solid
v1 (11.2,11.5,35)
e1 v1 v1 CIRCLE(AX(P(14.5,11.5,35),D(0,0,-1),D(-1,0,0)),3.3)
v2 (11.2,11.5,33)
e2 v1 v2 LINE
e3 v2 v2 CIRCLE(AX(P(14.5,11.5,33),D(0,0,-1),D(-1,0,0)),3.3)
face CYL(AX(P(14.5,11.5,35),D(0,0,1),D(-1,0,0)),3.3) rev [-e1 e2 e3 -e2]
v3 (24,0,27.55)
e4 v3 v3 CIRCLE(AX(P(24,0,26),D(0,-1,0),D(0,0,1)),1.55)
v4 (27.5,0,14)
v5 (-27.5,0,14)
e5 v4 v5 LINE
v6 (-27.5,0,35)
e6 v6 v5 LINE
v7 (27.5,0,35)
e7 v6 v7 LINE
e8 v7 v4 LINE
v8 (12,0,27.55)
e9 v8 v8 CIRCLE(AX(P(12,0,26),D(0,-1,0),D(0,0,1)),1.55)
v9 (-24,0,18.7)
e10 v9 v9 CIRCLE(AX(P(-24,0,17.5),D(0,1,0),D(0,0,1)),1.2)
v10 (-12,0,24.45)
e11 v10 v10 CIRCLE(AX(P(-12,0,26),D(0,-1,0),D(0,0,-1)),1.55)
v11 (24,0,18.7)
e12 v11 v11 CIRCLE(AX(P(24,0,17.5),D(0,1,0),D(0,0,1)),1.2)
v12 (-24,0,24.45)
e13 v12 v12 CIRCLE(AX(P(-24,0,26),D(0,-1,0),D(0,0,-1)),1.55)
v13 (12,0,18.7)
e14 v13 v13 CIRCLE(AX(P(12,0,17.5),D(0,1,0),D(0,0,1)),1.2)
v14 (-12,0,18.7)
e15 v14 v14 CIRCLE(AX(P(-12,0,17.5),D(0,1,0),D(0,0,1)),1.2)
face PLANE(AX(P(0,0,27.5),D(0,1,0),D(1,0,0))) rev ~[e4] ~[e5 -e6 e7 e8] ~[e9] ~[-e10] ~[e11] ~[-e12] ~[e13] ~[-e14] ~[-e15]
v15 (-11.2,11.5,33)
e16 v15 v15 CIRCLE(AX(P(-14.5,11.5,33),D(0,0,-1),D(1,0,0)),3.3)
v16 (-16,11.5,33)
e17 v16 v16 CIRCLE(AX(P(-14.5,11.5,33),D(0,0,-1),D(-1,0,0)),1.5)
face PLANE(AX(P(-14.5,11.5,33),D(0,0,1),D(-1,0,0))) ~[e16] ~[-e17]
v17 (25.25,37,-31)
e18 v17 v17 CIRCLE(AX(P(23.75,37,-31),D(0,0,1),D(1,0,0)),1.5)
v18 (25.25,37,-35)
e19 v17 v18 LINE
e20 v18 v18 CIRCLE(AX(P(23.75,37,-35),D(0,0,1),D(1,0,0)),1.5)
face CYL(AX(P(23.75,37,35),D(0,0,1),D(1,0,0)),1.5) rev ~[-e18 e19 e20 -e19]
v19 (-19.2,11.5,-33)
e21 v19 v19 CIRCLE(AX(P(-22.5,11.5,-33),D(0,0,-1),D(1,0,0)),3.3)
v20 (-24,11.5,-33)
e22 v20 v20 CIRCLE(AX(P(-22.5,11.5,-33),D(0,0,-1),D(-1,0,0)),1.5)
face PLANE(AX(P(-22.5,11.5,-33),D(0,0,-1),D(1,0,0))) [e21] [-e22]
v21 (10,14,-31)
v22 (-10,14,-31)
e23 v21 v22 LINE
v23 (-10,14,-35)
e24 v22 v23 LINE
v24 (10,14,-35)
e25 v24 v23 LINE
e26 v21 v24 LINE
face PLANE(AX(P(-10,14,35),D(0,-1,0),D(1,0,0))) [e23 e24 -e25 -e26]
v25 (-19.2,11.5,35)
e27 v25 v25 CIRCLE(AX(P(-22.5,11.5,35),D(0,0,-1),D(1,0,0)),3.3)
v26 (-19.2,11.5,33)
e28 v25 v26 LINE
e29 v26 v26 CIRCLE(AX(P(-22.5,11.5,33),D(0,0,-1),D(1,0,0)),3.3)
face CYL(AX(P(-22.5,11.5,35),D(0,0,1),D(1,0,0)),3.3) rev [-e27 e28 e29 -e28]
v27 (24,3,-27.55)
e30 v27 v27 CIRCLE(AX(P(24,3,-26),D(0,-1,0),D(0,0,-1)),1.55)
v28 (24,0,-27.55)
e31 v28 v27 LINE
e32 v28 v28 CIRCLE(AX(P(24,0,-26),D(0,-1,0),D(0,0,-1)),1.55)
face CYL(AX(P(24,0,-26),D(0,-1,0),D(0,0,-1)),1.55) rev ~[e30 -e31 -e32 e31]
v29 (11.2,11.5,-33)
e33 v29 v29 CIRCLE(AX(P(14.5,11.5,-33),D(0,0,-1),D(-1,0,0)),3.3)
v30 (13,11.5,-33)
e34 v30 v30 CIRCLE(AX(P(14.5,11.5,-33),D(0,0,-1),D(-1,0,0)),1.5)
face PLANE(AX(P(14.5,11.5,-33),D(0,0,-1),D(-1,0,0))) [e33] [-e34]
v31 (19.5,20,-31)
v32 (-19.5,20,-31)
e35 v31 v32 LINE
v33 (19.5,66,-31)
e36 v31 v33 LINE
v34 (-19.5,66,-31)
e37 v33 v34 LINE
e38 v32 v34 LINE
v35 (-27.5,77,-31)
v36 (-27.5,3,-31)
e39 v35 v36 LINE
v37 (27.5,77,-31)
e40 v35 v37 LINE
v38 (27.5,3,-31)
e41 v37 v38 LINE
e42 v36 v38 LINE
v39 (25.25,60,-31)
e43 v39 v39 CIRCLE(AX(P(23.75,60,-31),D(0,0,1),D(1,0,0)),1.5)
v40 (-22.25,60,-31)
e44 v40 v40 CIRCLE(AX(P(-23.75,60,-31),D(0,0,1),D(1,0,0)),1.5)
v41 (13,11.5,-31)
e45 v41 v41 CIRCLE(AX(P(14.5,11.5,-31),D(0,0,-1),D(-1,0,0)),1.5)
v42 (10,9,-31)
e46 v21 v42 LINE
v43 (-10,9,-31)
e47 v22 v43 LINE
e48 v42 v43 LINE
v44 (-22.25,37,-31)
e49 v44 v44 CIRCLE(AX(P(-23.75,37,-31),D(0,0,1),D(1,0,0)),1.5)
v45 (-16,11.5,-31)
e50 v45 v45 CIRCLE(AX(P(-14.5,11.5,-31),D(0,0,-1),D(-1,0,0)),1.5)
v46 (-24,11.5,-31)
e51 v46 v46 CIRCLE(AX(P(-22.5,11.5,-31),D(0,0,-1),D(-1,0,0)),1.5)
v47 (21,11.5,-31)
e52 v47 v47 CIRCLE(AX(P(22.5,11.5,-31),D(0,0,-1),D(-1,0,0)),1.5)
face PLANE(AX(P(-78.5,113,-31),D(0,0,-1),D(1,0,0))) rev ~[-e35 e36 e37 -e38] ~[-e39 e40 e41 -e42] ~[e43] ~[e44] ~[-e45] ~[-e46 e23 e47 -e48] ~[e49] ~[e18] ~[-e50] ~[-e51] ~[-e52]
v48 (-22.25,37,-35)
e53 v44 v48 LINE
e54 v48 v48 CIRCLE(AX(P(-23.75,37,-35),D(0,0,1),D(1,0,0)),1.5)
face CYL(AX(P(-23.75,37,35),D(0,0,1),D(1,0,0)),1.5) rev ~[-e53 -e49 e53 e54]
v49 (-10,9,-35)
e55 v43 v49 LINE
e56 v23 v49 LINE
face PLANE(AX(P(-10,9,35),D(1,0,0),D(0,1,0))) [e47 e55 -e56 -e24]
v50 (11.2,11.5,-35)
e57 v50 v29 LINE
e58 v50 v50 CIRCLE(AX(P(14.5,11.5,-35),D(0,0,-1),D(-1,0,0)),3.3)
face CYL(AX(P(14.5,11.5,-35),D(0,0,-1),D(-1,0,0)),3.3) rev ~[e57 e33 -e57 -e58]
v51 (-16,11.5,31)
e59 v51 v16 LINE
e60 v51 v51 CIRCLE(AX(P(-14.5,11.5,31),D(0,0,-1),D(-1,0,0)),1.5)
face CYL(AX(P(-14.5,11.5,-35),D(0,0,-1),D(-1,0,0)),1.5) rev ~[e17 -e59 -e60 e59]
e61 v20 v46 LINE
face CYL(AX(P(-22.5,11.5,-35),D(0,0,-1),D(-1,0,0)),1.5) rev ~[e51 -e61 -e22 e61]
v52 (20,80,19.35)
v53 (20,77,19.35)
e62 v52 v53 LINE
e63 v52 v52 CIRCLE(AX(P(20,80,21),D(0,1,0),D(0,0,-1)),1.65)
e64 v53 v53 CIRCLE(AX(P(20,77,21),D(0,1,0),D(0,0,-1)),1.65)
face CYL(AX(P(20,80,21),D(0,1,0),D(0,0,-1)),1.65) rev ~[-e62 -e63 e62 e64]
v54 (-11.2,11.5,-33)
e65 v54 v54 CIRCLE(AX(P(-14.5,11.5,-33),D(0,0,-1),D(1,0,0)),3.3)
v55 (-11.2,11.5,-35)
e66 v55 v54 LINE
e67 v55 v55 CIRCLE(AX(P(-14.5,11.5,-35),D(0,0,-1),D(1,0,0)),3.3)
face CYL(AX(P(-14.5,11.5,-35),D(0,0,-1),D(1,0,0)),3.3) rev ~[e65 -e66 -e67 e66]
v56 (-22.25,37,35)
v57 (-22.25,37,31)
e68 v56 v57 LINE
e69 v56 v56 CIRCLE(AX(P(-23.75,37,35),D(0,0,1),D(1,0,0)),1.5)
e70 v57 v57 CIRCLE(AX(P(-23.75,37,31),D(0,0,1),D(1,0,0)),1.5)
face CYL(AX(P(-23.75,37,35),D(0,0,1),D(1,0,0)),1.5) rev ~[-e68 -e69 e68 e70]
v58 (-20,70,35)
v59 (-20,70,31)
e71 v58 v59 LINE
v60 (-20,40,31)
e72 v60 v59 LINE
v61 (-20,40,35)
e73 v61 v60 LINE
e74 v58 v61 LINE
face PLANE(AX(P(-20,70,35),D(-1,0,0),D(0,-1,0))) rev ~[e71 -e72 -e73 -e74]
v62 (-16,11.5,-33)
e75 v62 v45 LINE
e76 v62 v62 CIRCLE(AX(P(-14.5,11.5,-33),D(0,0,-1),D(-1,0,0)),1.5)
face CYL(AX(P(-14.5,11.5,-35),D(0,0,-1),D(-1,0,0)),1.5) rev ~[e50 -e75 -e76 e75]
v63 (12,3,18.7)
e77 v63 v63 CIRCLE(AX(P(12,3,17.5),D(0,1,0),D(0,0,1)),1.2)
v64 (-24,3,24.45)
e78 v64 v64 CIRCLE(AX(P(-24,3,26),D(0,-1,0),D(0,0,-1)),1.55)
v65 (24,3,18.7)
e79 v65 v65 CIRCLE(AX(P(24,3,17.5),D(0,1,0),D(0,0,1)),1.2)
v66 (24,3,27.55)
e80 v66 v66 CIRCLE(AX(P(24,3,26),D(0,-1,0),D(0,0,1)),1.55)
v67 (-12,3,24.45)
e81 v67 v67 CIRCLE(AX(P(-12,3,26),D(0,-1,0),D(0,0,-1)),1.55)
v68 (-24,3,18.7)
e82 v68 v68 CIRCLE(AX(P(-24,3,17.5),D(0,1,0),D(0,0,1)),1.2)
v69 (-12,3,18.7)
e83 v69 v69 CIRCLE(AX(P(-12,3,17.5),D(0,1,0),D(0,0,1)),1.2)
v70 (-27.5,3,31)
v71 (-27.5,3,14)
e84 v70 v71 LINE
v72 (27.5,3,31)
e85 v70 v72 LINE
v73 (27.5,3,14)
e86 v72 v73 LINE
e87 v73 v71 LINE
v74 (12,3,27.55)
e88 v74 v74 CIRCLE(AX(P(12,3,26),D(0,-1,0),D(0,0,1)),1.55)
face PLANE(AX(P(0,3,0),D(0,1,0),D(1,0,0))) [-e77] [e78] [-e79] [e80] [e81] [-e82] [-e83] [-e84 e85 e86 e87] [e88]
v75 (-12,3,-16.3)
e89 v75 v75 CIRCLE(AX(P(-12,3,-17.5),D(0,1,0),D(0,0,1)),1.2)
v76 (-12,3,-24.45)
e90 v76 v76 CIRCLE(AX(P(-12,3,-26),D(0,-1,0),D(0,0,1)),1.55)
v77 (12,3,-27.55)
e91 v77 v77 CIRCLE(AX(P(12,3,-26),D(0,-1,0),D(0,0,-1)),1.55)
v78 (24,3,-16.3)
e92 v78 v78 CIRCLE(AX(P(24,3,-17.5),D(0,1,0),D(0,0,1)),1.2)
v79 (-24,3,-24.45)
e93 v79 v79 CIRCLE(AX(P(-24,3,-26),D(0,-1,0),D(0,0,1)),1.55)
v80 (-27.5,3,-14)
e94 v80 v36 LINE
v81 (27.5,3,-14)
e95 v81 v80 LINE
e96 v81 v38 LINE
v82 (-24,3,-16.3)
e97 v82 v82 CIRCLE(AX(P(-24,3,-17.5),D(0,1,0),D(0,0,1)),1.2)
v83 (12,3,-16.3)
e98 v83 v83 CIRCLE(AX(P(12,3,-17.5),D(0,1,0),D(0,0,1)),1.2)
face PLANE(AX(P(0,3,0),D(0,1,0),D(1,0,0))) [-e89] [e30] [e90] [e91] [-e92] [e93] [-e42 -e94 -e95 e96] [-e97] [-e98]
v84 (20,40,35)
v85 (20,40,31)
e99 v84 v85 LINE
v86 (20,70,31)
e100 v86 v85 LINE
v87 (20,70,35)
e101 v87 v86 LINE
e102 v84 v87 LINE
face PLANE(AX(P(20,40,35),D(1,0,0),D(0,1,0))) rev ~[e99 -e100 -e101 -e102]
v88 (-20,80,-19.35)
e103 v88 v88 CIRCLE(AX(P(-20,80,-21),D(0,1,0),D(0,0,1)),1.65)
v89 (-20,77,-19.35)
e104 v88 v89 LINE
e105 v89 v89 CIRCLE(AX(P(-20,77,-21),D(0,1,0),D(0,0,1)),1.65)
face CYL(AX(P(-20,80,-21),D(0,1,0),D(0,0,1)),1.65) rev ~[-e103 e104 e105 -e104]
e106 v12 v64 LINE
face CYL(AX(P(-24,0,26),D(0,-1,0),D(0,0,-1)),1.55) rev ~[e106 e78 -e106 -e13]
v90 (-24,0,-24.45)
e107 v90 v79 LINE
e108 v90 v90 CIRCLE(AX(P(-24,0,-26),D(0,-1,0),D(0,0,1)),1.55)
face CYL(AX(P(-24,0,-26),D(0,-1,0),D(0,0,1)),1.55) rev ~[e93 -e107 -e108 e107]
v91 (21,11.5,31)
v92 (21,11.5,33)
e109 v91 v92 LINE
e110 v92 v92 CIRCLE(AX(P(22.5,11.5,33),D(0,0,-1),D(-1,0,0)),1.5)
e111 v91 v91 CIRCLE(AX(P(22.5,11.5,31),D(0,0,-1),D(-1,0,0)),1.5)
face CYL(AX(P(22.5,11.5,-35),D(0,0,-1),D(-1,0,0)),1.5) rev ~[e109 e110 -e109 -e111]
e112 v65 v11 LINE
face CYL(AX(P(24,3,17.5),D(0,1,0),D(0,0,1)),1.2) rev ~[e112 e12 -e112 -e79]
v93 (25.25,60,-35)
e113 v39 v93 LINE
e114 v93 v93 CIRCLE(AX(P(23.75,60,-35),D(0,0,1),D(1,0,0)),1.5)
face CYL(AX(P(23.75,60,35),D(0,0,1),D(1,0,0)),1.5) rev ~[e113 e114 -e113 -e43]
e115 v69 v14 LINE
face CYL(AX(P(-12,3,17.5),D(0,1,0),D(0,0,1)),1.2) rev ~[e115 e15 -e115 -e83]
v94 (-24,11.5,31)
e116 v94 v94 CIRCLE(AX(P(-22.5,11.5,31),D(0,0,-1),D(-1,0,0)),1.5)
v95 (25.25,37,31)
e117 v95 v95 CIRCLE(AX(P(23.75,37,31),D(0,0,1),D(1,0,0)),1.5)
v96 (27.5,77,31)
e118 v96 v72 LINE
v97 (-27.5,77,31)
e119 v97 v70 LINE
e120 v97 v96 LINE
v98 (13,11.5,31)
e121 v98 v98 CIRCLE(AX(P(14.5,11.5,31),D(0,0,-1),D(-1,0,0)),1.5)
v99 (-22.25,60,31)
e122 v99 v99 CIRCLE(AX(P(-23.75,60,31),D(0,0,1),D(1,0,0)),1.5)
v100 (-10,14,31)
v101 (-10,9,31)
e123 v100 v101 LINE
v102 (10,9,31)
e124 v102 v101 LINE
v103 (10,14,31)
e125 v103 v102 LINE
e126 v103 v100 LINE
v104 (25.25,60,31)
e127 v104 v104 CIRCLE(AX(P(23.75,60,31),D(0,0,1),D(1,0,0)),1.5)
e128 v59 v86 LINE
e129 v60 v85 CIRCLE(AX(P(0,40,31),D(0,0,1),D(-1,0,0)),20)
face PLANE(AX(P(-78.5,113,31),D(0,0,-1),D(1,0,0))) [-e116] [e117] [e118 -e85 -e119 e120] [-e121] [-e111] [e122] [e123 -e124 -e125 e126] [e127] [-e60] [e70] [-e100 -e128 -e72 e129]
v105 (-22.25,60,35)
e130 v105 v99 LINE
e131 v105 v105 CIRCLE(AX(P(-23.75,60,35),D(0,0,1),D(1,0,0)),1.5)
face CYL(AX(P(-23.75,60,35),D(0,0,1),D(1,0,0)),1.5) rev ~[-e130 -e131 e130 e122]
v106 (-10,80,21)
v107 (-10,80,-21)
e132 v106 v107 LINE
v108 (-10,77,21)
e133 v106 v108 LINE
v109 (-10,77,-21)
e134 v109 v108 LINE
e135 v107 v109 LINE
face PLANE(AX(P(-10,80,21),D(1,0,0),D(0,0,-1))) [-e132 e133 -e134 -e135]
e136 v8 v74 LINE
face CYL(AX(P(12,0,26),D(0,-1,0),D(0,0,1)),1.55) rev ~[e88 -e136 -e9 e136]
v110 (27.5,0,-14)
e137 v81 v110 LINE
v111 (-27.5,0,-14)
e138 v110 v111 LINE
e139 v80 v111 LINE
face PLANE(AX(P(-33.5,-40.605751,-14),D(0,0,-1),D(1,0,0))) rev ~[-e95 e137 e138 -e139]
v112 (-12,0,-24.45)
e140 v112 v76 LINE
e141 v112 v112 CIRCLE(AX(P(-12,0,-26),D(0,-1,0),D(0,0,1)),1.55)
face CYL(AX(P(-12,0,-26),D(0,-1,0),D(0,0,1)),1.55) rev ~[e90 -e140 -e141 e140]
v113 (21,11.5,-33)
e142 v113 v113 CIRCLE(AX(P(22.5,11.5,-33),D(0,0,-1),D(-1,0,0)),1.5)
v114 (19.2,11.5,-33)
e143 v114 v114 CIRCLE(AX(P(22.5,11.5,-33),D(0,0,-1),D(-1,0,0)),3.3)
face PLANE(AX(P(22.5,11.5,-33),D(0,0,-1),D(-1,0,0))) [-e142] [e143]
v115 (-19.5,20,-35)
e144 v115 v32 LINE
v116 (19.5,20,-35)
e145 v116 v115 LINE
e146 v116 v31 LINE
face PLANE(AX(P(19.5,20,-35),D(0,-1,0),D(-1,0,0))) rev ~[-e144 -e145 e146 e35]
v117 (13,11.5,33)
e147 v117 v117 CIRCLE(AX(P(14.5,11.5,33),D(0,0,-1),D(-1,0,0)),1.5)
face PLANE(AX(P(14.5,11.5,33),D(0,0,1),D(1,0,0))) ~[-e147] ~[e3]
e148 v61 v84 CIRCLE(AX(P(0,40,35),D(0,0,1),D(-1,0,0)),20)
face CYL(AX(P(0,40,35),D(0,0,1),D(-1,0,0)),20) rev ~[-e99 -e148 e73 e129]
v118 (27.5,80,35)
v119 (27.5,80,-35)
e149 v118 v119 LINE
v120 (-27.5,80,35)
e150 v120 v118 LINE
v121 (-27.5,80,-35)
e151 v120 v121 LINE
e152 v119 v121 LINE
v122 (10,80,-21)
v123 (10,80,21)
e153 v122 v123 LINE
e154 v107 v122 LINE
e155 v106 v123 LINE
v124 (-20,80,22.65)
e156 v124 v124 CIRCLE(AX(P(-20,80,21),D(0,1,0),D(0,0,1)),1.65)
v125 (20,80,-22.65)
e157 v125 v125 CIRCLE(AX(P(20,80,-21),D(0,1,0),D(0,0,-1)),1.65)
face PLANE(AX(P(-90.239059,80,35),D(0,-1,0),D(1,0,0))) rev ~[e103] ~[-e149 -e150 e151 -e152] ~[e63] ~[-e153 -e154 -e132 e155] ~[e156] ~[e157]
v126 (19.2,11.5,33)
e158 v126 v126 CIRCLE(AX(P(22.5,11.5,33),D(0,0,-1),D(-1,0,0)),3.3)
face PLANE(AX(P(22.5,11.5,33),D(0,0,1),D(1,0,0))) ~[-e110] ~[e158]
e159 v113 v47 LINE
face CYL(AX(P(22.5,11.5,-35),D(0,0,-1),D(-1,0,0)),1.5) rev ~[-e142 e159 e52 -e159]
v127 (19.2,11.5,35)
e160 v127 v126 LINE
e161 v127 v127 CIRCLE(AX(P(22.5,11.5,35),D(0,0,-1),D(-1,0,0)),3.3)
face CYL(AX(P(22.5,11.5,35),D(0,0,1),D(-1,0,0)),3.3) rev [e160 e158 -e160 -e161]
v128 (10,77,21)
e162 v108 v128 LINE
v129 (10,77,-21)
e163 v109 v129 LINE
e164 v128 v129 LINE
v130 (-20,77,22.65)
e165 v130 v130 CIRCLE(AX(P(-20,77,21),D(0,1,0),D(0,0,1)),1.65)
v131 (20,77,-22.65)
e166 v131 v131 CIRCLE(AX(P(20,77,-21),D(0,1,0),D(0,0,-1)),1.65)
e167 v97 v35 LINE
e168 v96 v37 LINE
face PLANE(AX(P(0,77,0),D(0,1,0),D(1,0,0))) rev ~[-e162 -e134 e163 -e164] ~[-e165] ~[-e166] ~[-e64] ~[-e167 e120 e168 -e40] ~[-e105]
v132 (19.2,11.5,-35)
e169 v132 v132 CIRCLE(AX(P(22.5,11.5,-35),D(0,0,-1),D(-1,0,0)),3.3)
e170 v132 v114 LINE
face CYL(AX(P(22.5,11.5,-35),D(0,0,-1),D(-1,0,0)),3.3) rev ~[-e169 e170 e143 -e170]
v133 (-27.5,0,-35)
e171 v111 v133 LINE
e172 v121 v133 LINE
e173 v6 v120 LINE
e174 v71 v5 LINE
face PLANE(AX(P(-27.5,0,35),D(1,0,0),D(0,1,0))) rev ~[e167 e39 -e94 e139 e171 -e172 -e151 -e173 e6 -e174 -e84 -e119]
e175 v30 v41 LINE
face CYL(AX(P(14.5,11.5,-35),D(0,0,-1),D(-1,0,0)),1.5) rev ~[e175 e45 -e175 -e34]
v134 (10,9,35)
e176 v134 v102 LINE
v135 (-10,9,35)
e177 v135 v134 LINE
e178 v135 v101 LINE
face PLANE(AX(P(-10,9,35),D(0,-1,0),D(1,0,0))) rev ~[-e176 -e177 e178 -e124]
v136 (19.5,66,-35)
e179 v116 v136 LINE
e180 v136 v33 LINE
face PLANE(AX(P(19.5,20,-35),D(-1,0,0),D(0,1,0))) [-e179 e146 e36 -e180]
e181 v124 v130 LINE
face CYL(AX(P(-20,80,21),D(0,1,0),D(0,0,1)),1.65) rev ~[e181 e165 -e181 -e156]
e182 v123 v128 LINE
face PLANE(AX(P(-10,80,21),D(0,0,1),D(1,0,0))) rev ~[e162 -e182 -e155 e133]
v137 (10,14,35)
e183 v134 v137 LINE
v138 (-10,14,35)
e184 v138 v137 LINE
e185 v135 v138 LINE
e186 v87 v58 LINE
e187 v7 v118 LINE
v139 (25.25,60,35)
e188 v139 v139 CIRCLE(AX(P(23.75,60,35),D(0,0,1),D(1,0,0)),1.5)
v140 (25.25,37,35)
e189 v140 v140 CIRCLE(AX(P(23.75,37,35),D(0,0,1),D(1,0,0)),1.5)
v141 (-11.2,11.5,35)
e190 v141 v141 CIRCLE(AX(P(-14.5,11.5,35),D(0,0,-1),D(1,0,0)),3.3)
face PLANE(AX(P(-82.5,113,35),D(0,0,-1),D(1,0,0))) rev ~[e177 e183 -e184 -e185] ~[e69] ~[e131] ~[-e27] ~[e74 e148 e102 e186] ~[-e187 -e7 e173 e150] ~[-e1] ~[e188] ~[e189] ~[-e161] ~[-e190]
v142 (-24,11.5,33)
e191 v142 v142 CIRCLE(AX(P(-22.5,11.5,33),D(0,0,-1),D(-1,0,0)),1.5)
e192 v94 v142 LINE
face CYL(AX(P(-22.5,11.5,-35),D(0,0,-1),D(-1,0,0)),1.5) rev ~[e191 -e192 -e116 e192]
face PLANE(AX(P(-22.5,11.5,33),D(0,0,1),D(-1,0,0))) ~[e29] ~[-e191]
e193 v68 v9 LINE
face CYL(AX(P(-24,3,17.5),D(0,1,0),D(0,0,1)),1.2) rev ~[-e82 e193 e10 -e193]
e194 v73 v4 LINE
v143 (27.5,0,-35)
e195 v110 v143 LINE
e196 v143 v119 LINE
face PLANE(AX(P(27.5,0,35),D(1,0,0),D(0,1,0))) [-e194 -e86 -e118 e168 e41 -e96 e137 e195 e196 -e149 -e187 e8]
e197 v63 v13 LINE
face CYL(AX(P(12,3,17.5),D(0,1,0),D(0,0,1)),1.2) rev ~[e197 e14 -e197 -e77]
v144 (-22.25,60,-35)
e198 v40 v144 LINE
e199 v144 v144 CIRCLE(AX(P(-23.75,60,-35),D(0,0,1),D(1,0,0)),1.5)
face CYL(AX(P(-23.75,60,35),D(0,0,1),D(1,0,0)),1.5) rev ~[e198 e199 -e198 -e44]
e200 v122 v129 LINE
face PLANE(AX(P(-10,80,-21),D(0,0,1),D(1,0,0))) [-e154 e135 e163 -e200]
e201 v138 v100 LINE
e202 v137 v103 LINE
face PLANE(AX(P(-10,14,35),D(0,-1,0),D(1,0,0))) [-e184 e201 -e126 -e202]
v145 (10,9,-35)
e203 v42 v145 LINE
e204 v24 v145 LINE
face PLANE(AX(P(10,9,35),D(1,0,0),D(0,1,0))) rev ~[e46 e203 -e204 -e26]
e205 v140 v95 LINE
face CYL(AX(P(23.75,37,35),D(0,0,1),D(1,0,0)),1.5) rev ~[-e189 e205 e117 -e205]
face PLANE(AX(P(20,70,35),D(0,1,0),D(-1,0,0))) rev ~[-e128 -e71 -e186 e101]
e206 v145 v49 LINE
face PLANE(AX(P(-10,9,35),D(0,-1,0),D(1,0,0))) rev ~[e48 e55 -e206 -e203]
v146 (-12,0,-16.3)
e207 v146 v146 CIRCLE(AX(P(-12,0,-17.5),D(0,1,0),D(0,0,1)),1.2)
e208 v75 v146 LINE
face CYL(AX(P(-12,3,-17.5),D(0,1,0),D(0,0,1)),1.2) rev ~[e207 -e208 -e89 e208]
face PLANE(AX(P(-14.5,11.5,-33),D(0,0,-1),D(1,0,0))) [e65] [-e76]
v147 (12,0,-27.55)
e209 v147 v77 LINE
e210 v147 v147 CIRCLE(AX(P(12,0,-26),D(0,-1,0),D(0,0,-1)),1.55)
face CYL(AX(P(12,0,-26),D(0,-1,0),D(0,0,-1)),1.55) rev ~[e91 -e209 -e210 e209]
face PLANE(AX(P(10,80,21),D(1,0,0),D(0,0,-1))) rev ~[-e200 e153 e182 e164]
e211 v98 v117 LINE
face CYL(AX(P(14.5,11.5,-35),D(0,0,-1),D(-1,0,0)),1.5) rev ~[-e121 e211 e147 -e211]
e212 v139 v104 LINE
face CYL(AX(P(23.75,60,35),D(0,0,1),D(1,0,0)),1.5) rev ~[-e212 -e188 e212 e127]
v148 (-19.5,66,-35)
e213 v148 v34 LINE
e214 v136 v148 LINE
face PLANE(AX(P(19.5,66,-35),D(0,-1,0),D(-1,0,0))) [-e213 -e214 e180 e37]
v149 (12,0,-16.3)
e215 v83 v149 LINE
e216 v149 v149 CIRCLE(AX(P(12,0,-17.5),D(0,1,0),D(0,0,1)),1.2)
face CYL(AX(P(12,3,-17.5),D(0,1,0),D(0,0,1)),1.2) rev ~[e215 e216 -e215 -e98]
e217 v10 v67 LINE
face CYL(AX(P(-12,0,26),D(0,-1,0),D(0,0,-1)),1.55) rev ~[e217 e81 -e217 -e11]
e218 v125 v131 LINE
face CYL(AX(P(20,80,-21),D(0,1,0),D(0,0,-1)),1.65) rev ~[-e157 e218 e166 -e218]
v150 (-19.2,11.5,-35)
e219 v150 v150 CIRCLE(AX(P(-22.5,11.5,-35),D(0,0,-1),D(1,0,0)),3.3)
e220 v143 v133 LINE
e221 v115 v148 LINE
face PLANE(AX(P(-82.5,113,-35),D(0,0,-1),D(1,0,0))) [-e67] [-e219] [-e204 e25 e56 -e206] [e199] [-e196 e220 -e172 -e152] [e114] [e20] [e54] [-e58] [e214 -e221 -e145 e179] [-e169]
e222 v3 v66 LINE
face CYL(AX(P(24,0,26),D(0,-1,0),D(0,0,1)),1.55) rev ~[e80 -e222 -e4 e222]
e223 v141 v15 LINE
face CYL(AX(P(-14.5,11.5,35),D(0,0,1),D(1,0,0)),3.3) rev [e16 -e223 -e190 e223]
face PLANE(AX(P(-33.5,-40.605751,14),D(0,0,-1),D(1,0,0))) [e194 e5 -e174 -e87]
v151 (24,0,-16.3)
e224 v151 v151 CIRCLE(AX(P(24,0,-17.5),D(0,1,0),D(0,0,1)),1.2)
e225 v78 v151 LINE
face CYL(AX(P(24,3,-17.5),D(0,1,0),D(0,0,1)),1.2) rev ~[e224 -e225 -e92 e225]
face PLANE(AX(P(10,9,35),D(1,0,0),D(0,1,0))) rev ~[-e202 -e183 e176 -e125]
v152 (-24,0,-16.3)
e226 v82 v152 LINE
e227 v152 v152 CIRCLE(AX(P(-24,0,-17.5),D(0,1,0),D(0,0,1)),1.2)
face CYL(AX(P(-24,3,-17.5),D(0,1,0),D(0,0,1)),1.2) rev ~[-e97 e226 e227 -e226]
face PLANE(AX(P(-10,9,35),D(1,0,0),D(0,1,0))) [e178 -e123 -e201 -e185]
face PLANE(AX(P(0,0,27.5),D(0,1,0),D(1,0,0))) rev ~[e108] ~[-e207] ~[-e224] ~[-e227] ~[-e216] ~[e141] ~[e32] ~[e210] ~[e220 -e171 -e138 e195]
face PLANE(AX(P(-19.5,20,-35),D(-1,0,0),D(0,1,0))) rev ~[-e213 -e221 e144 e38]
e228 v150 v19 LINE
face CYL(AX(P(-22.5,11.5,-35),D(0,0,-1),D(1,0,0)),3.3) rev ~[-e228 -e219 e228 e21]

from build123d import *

# Parameters (mm, degrees)
SKETCH1_W                 = 75
SKETCH1_H                 = 40
SKETCH1_R                 = 5
SKETCH1_R_2               = 1.7
SKETCH1_W_2               = 10
SKETCH1_H_2               = 20
BOSS_EXTRUDE1_DEPTH       = 3
CUT_EXTRUDE1_DEPTH        = 43.605750786
CUT_EXTRUDE1_DEPTH_BACK   = 43.605750786
SKETCH2_W                 = 67
SKETCH2_H                 = 28
BOSS_EXTRUDE3_DEPTH       = 110
BOSS_EXTRUDE3_DEPTH_BACK  = 3
SKETCH6_W                 = 67
SKETCH6_H                 = 11
CUT_EXTRUDE4_DEPTH        = 122.372360939
SKETCH7_W                 = 70
SKETCH7_H                 = 37
BOSS_EXTRUDE4_DEPTH       = 45
SKETCH8_W                 = 45
SKETCH8_H                 = 62
CUT_EXTRUDE6_DEPTH        = 29
SKETCH11_W                = 45
SKETCH11_H                = 4
CUT_EXTRUDE9_DEPTH        = 157.445677473
SKETCH9_W                 = 38
SKETCH9_H                 = 28.5
CUT_EXTRUDE10_DEPTH       = 204.024629048
SKETCH13_W                = 5
SKETCH13_H                = 38
BOSS_EXTRUDE5_DEPTH       = 32
SKETCH14_R                = 5
SKETCH14_R_2              = 1.7
CUT_EXTRUDE11_DEPTH       = 32
SKETCH15_W                = 165
SKETCH15_H                = 70
SKETCH15_W_2              = 157
SKETCH15_H_2              = 62
BOSS_EXTRUDE6_DEPTH       = 3
SKETCH16_W                = 20
SKETCH16_H                = 5
CUT_EXTRUDE12_DEPTH       = 159.626132778
SKETCH18_R                = 5
CUT_EXTRUDE14_DEPTH       = 159.626132778
MIRROR6_COPY_1_SKETCH_W   = 5
MIRROR6_COPY_1_SKETCH_H   = 38
MIRROR6_COPY_1_DEPTH      = 32
MIRROR6_COPY_2_SKETCH_R   = 5
MIRROR6_COPY_2_SKETCH_R_2 = 1.7
MIRROR6_COPY_2_DEPTH      = 32
SKETCH19_W                = 38
SKETCH19_H                = 3.5
CUT_EXTRUDE15_DEPTH       = 10
SKETCH20_R                = 1.2
CUT_EXTRUDE16_DEPTH       = 10
SKETCH21_W                = 10
SKETCH21_H                = 80
CUT_EXTRUDE17_DEPTH       = 184.330984833
SKETCH22_W                = 172.739058827
SKETCH22_H                = 75.843231067
CUT_EXTRUDE18_DEPTH       = 184.330984833
SKETCH23_W                = 55
SKETCH23_H                = 70
BOSS_EXTRUDE7_DEPTH       = 3
SKETCH24_R                = 10
SKETCH24_R_2              = 1.65
CUT_EXTRUDE19_DEPTH       = 3
SKETCH25_R                = 1.55
CUT_EXTRUDE20_DEPTH       = 10
SKETCH27_W                = 39
SKETCH27_H                = 46
CUT_EXTRUDE21_DEPTH       = 4
SKETCH29_W                = 20
SKETCH29_H                = 42
CUT_EXTRUDE22_DEPTH       = 10
SKETCH31_R                = 1.5
CUT_EXTRUDE23_DEPTH       = 110.80095628
SKETCH32_R                = 3.3
CUT_EXTRUDE24_DEPTH       = 2
CUT_EXTRUDE25_DEPTH       = 10
SKETCH34_R                = 1.5
CUT_EXTRUDE26_DEPTH       = 110.80095628


with BuildPart() as part:
    # Sketch1 → Boss-Extrude1 (new body)
    with BuildSketch(Plane(origin=(0, 0, 0), x_dir=(1, 0, 0), z_dir=(0, 1, 0))):
        Rectangle(SKETCH1_W, SKETCH1_H)
        with Locations(Location((-21, 0, 0), (0, 0, 270))):
            Circle(SKETCH1_R, mode=Mode.SUBTRACT)
        with Locations(Location((-30, 8.25, 0), (0, 0, 270))):
            Circle(SKETCH1_R_2, mode=Mode.SUBTRACT)
        with Locations(Location((-12, 8.25, 0), (0, 0, 270))):
            Circle(SKETCH1_R_2, mode=Mode.SUBTRACT)
        with Locations(Location((-12, -8.25, 0), (0, 0, 270))):
            Circle(SKETCH1_R_2, mode=Mode.SUBTRACT)
        with Locations(Location((-30, -8.25, 0), (0, 0, 270))):
            Circle(SKETCH1_R_2, mode=Mode.SUBTRACT)
        with Locations(Location((12, 8.25, 0), (0, 0, 90))):
            Circle(SKETCH1_R_2, mode=Mode.SUBTRACT)
        with Locations(Location((12, -8.25, 0), (0, 0, 90))):
            Circle(SKETCH1_R_2, mode=Mode.SUBTRACT)
        with Locations(Location((21, 0, 0), (0, 0, 90))):
            Circle(SKETCH1_R, mode=Mode.SUBTRACT)
        with Locations(Location((30, -8.25, 0), (0, 0, 90))):
            Circle(SKETCH1_R_2, mode=Mode.SUBTRACT)
        with Locations(Location((30, 8.25, 0), (0, 0, 90))):
            Circle(SKETCH1_R_2, mode=Mode.SUBTRACT)
        Rectangle(SKETCH1_W_2, SKETCH1_H_2, mode=Mode.SUBTRACT)
    extrude(amount=BOSS_EXTRUDE1_DEPTH)

    # Sketch2 → Cut-Extrude1 (cut, two sides: drawn at the far end of the back side and taken through both)
    with BuildSketch(Plane(origin=(0, 3, 0), x_dir=(1, 0, 0), z_dir=(0, 1, 0)).offset(-CUT_EXTRUDE1_DEPTH_BACK)):
        Rectangle(SKETCH2_W, SKETCH2_H)
    extrude(amount=CUT_EXTRUDE1_DEPTH + CUT_EXTRUDE1_DEPTH_BACK, mode=Mode.SUBTRACT)

    # Sketch3 → Boss-Extrude3 (add, two sides: drawn at the far end of the back side and taken through both)
    with BuildSketch(Plane(origin=(0, 3, 0), x_dir=(1, 0, 0), z_dir=(0, 1, 0)).offset(-BOSS_EXTRUDE3_DEPTH_BACK)):
        Polygon((37.5, -35), (37.5, -20), (33.5, -20), (-33.5, -20), (-37.5, -20), (-37.5, -35), align=None)
        Polygon((33.5, 20), (37.5, 20), (37.5, 35), (-37.5, 35), (-37.5, 20), (-33.5, 20), align=None)
        Polygon((37.5, -20), (37.5, 20), (33.5, 20), (33.5, 14), (33.5, -14), (33.5, -20), align=None)
        Polygon((-33.5, 14), (-33.5, 20), (-37.5, 20), (-37.5, -20), (-33.5, -20), (-33.5, -14), align=None)
    extrude(amount=BOSS_EXTRUDE3_DEPTH + BOSS_EXTRUDE3_DEPTH_BACK)

    # Sketch6 → Cut-Extrude4 (cut, through all)
    with BuildSketch(Plane(origin=(0, 3, 0), x_dir=(1, 0, 0), z_dir=(0, 1, 0))):
        with Locations((0, -25.5)):
            Rectangle(SKETCH6_W, SKETCH6_H)
        with Locations((0, 25.5)):
            Rectangle(SKETCH6_W, SKETCH6_H)
    extrude(amount=CUT_EXTRUDE4_DEPTH, mode=Mode.SUBTRACT)

    # Sketch7 → Boss-Extrude4 (add)
    with BuildSketch(Plane.ZY.offset(37.5)):
        with Locations((0, 94.5)):
            Rectangle(SKETCH7_W, SKETCH7_H)
    boss_extrude4 = extrude(amount=BOSS_EXTRUDE4_DEPTH)

    # Mirror2: Boss-Extrude4 across plane
    add(boss_extrude4.mirror(Plane(origin=(0, 0, 0), x_dir=(0, 0, 1), z_dir=(1, 0, 0))))

    # Sketch8 → Cut-Extrude6 (cut)
    with BuildSketch(Plane(origin=(0, 113, 0), x_dir=(1, 0, 0), z_dir=(0, 1, 0))):
        with Locations((-56, 0)):
            Rectangle(SKETCH8_W, SKETCH8_H)
        with Locations((56, 0)):
            Rectangle(SKETCH8_W, SKETCH8_H)
    extrude(amount=-CUT_EXTRUDE6_DEPTH, mode=Mode.SUBTRACT)

    # Sketch11 → Cut-Extrude9 (cut, through all)
    with BuildSketch(Plane.XY.offset(35)):
        with Locations((-60, 78)):
            Rectangle(SKETCH11_W, SKETCH11_H)
        with Locations((60, 78)):
            Rectangle(SKETCH11_W, SKETCH11_H)
    extrude(amount=-CUT_EXTRUDE9_DEPTH, mode=Mode.SUBTRACT)

    # Sketch9 → Cut-Extrude10 (cut, through all)
    with BuildSketch(Plane.ZY.offset(82.5)):
        with Locations((0, 98.25)):
            Rectangle(SKETCH9_W, SKETCH9_H)
    extrude(amount=-CUT_EXTRUDE10_DEPTH, mode=Mode.SUBTRACT)

    # Sketch13 → Boss-Extrude5 (add)
    with BuildSketch(Plane(origin=(0, 84, 0), x_dir=(1, 0, 0), z_dir=(0, 1, 0))):
        with Locations((-54.5, 0)):
            Rectangle(SKETCH13_W, SKETCH13_H)
    boss_extrude5 = extrude(amount=BOSS_EXTRUDE5_DEPTH)

    # Sketch14 → Cut-Extrude11 (cut)
    with BuildSketch(Plane.ZY.offset(57)):
        with Locations((0, 98.25)):
            Circle(SKETCH14_R)
        with Locations((-9, 106.5)):
            Circle(SKETCH14_R_2)
        with Locations((9, 106.5)):
            Circle(SKETCH14_R_2)
        with Locations((9, 90)):
            Circle(SKETCH14_R_2)
        with Locations((-9, 90)):
            Circle(SKETCH14_R_2)
    cut_extrude11 = extrude(amount=-CUT_EXTRUDE11_DEPTH, mode=Mode.SUBTRACT)

    # Mirror4: Boss-Extrude5, Cut-Extrude11 across plane
    add(boss_extrude5.mirror(Plane(origin=(0, 0, 0), x_dir=(0, 0, 1), z_dir=(1, 0, 0))))
    add(cut_extrude11.mirror(Plane(origin=(0, 0, 0), x_dir=(0, 0, 1), z_dir=(1, 0, 0))), mode=Mode.SUBTRACT)

    # Sketch15 → Boss-Extrude6 (add)
    with BuildSketch(Plane(origin=(0, 113, 0), x_dir=(1, 0, 0), z_dir=(0, 1, 0))):
        Rectangle(SKETCH15_W, SKETCH15_H)
        Rectangle(SKETCH15_W_2, SKETCH15_H_2, mode=Mode.SUBTRACT)
    extrude(amount=BOSS_EXTRUDE6_DEPTH)

    # Sketch16 → Cut-Extrude12 (cut, through all)
    with BuildSketch(Plane.XY.offset(35)):
        with Locations((0, 11.5)):
            Rectangle(SKETCH16_W, SKETCH16_H)
    extrude(amount=-CUT_EXTRUDE12_DEPTH, mode=Mode.SUBTRACT)

    # Sketch18 → Cut-Extrude14 (cut, through all)
    with BuildSketch(Plane.XY.offset(35)):
        with Locations((67.75, 100)):
            Circle(SKETCH18_R)
    cut_extrude14 = extrude(amount=-CUT_EXTRUDE14_DEPTH, mode=Mode.SUBTRACT)

    # Mirror5: Cut-Extrude14 across plane
    add(cut_extrude14.mirror(Plane(origin=(0, 0, 0), x_dir=(0, 0, 1), z_dir=(1, 0, 0))), mode=Mode.SUBTRACT)

    # Mirror6: Boss-Extrude5, Cut-Extrude11 across plane
    add(boss_extrude5.mirror(Plane.ZX.offset(116)))
    add(cut_extrude11.mirror(Plane.ZX.offset(116)), mode=Mode.SUBTRACT)

    # Mirror6 copy 1 sketch → Mirror6 copy 1 (add)
    with BuildSketch(Plane(origin=(0, 148, 0), x_dir=(-1, 0, 0), z_dir=(0, -1, 0))):
        with Locations((-54.5, 0)):
            Rectangle(MIRROR6_COPY_1_SKETCH_W, MIRROR6_COPY_1_SKETCH_H)
    extrude(amount=MIRROR6_COPY_1_DEPTH)

    # Mirror6 copy 2 sketch → Mirror6 copy 2 (cut)
    with BuildSketch(Plane(origin=(57, 232, 0), x_dir=(0, 0, 1), z_dir=(1, 0, 0))):
        with Locations((0, 98.25)):
            Circle(MIRROR6_COPY_2_SKETCH_R)
        with Locations((-9, 106.5)):
            Circle(MIRROR6_COPY_2_SKETCH_R_2)
        with Locations((9, 106.5)):
            Circle(MIRROR6_COPY_2_SKETCH_R_2)
        with Locations((9, 90)):
            Circle(MIRROR6_COPY_2_SKETCH_R_2)
        with Locations((-9, 90)):
            Circle(MIRROR6_COPY_2_SKETCH_R_2)
    extrude(amount=-MIRROR6_COPY_2_DEPTH, mode=Mode.SUBTRACT)

    # Sketch19 → Cut-Extrude15 (cut)
    with BuildSketch(Plane(origin=(82.5, 0, 0), x_dir=(0, 0, -1), z_dir=(1, 0, 0))):
        with Locations((0, 114.25)):
            Rectangle(SKETCH19_W, SKETCH19_H)
    cut_extrude15 = extrude(amount=-CUT_EXTRUDE15_DEPTH, mode=Mode.SUBTRACT)

    # Mirror7: Cut-Extrude15 across plane
    add(cut_extrude15.mirror(Plane(origin=(0, 0, 0), x_dir=(0, 0, 1), z_dir=(1, 0, 0))), mode=Mode.SUBTRACT)

    # Sketch20 → Cut-Extrude16 (cut)
    with BuildSketch(Plane(origin=(0, 3, 0), x_dir=(1, 0, 0), z_dir=(0, 1, 0))):
        with Locations(Location((-24, 17.5, 0), (0, 0, 270))):
            Circle(SKETCH20_R)
        with Locations(Location((-12, 17.5, 0), (0, 0, 270))):
            Circle(SKETCH20_R)
        with Locations(Location((12, 17.5, 0), (0, 0, 270))):
            Circle(SKETCH20_R)
        with Locations(Location((-24, -17.5, 0), (0, 0, 270))):
            Circle(SKETCH20_R)
        with Locations(Location((-12, -17.5, 0), (0, 0, 270))):
            Circle(SKETCH20_R)
        with Locations(Location((24, 17.5, 0), (0, 0, 270))):
            Circle(SKETCH20_R)
        with Locations(Location((12, -17.5, 0), (0, 0, 270))):
            Circle(SKETCH20_R)
        with Locations(Location((24, -17.5, 0), (0, 0, 270))):
            Circle(SKETCH20_R)
    extrude(amount=-CUT_EXTRUDE16_DEPTH, mode=Mode.SUBTRACT)

    # Sketch21 → Cut-Extrude17 (cut, through all)
    with BuildSketch(Plane.XY.offset(35)):
        with Locations((32.5, 40)):
            Rectangle(SKETCH21_W, SKETCH21_H)
        with Locations((-32.5, 40)):
            Rectangle(SKETCH21_W, SKETCH21_H)
    extrude(amount=-CUT_EXTRUDE17_DEPTH, mode=Mode.SUBTRACT)

    # Sketch22 → Cut-Extrude18 (cut, through all)
    with BuildSketch(Plane.XY.offset(35)):
        with Locations((-3.869529414, 117.921615534)):
            Rectangle(SKETCH22_W, SKETCH22_H)
    extrude(amount=-CUT_EXTRUDE18_DEPTH, mode=Mode.SUBTRACT)


with BuildPart() as cut_extrude18_piece_1:
    # of the separate pieces the step leaves, piece 1, a body of its own (cut_extrude18_pieces)
    add(part.part.solids().sort_by_distance((-27.5, 0, 35))[0])



with BuildPart() as cut_extrude18_piece_2:
    # of the separate pieces the step leaves, piece 2, a body of its own (cut_extrude18_pieces)
    add(part.part.solids().sort_by_distance((27.5, 0, -35))[0])


with BuildPart() as cut_extrude18_piece_1_1:
    add(cut_extrude18_piece_1.part)

    add(cut_extrude18_piece_2.part)  # Boss-Extrude7 merges Cut-Extrude18 piece 2
    # Sketch23 → Boss-Extrude7 (add)
    with BuildSketch(Plane(origin=(0, 80, 0), x_dir=(1, 0, 0), z_dir=(0, 1, 0))):
        Rectangle(SKETCH23_W, SKETCH23_H)
    extrude(amount=-BOSS_EXTRUDE7_DEPTH)

    # Sketch24 → Cut-Extrude19 (cut)
    with BuildSketch(Plane(origin=(0, 80, 0), x_dir=(1, 0, 0), z_dir=(0, 1, 0))):
        with Locations(Location((0, 0, 0), (0, 0, 270))):
            Circle(SKETCH24_R)
        with Locations(Location((-20, 21, 0), (0, 0, 270))):
            Circle(SKETCH24_R_2)
        with Locations(Location((-20, -21, 0), (0, 0, 270))):
            Circle(SKETCH24_R_2)
        with Locations(Location((20, -21, 0), (0, 0, 90))):
            Circle(SKETCH24_R_2)
        with Locations(Location((20, 21, 0), (0, 0, 90))):
            Circle(SKETCH24_R_2)
    extrude(amount=-CUT_EXTRUDE19_DEPTH, mode=Mode.SUBTRACT)

    # Sketch25 → Cut-Extrude20 (cut)
    with BuildSketch(Plane.XZ):
        with Locations(Location((-24, 26, 0), (0, 0, 270))):
            Circle(SKETCH25_R)
        with Locations(Location((12, -26, 0), (0, 0, 270))):
            Circle(SKETCH25_R)
        with Locations(Location((24, -26, 0), (0, 0, 270))):
            Circle(SKETCH25_R)
        with Locations(Location((12, 26, 0), (0, 0, 90))):
            Circle(SKETCH25_R)
        with Locations(Location((-12, 26, 0), (0, 0, 270))):
            Circle(SKETCH25_R)
        with Locations(Location((-24, -26, 0), (0, 0, 90))):
            Circle(SKETCH25_R)
        with Locations(Location((-12, -26, 0), (0, 0, 90))):
            Circle(SKETCH25_R)
        with Locations(Location((24, 26, 0), (0, 0, 90))):
            Circle(SKETCH25_R)
    extrude(amount=-CUT_EXTRUDE20_DEPTH, mode=Mode.SUBTRACT)

    # Sketch27 → Cut-Extrude21 (cut)
    with BuildSketch(Plane(origin=(0, 0, -35), x_dir=(-1, 0, 0), z_dir=(0, 0, -1))):
        with Locations((0, 43)):
            Rectangle(SKETCH27_W, SKETCH27_H)
    extrude(amount=-CUT_EXTRUDE21_DEPTH, mode=Mode.SUBTRACT)

    # Sketch29 → Cut-Extrude22 (cut)
    with BuildSketch(Plane(origin=(0, 80, 0), x_dir=(1, 0, 0), z_dir=(0, 1, 0))):
        Rectangle(SKETCH29_W, SKETCH29_H)
    extrude(amount=-CUT_EXTRUDE22_DEPTH, mode=Mode.SUBTRACT)

    # Sketch31 → Cut-Extrude23 (cut, through all)
    with BuildSketch(Plane(origin=(0, 0, -35), x_dir=(-1, 0, 0), z_dir=(0, 0, -1))):
        with Locations((22.5, 11.5)):
            Circle(SKETCH31_R)
        with Locations((14.5, 11.5)):
            Circle(SKETCH31_R)
        with Locations((-14.5, 11.5)):
            Circle(SKETCH31_R)
        with Locations((-22.5, 11.5)):
            Circle(SKETCH31_R)
    extrude(amount=-CUT_EXTRUDE23_DEPTH, mode=Mode.SUBTRACT)

    # Sketch32 → Cut-Extrude24 (cut)
    with BuildSketch(Plane(origin=(0, 0, -35), x_dir=(-1, 0, 0), z_dir=(0, 0, -1))):
        with Locations((-22.5, 11.5)):
            Circle(SKETCH32_R)
        with Locations((-14.5, 11.5)):
            Circle(SKETCH32_R)
        with Locations(Location((14.5, 11.5, 0), (0, 0, 180))):
            Circle(SKETCH32_R)
        with Locations(Location((22.5, 11.5, 0), (0, 0, 180))):
            Circle(SKETCH32_R)
    cut_extrude24 = extrude(amount=-CUT_EXTRUDE24_DEPTH, mode=Mode.SUBTRACT)

    # Mirror8: Cut-Extrude24 across plane
    add(cut_extrude24.mirror(Plane(origin=(0, 0, 0), x_dir=(1, 0, 0), z_dir=(0, 0, -1))), mode=Mode.SUBTRACT)

    # Sketch33 → Cut-Extrude25 (cut)
    with BuildSketch(Plane.XY.offset(35)):
        with BuildLine():
            Line((-20, 70), (-20, 40))
            ThreePointArc((-20, 40), (0, 60), (20, 40))
            Line((20, 40), (20, 70))
            Line((20, 70), (-20, 70))
        make_face()
        with BuildLine():
            ThreePointArc((20, 40), (0, 60), (-20, 40))
            Line((-20, 40), (20, 40))
        make_face()
        with BuildLine():
            Line((20, 40), (-20, 40))
            ThreePointArc((-20, 40), (0, 20), (20, 40))
        make_face()
    extrude(amount=-CUT_EXTRUDE25_DEPTH, mode=Mode.SUBTRACT)

    # Sketch34 → Cut-Extrude26 (cut, through all)
    with BuildSketch(Plane.XY.offset(35)):
        with Locations((-23.75, 60)):
            Circle(SKETCH34_R)
        with Locations((23.75, 60)):
            Circle(SKETCH34_R)
        with Locations((-23.75, 37)):
            Circle(SKETCH34_R)
        with Locations((23.75, 37)):
            Circle(SKETCH34_R)
    extrude(amount=-CUT_EXTRUDE26_DEPTH, mode=Mode.SUBTRACT)


solid = cut_extrude18_piece_1_1.part
